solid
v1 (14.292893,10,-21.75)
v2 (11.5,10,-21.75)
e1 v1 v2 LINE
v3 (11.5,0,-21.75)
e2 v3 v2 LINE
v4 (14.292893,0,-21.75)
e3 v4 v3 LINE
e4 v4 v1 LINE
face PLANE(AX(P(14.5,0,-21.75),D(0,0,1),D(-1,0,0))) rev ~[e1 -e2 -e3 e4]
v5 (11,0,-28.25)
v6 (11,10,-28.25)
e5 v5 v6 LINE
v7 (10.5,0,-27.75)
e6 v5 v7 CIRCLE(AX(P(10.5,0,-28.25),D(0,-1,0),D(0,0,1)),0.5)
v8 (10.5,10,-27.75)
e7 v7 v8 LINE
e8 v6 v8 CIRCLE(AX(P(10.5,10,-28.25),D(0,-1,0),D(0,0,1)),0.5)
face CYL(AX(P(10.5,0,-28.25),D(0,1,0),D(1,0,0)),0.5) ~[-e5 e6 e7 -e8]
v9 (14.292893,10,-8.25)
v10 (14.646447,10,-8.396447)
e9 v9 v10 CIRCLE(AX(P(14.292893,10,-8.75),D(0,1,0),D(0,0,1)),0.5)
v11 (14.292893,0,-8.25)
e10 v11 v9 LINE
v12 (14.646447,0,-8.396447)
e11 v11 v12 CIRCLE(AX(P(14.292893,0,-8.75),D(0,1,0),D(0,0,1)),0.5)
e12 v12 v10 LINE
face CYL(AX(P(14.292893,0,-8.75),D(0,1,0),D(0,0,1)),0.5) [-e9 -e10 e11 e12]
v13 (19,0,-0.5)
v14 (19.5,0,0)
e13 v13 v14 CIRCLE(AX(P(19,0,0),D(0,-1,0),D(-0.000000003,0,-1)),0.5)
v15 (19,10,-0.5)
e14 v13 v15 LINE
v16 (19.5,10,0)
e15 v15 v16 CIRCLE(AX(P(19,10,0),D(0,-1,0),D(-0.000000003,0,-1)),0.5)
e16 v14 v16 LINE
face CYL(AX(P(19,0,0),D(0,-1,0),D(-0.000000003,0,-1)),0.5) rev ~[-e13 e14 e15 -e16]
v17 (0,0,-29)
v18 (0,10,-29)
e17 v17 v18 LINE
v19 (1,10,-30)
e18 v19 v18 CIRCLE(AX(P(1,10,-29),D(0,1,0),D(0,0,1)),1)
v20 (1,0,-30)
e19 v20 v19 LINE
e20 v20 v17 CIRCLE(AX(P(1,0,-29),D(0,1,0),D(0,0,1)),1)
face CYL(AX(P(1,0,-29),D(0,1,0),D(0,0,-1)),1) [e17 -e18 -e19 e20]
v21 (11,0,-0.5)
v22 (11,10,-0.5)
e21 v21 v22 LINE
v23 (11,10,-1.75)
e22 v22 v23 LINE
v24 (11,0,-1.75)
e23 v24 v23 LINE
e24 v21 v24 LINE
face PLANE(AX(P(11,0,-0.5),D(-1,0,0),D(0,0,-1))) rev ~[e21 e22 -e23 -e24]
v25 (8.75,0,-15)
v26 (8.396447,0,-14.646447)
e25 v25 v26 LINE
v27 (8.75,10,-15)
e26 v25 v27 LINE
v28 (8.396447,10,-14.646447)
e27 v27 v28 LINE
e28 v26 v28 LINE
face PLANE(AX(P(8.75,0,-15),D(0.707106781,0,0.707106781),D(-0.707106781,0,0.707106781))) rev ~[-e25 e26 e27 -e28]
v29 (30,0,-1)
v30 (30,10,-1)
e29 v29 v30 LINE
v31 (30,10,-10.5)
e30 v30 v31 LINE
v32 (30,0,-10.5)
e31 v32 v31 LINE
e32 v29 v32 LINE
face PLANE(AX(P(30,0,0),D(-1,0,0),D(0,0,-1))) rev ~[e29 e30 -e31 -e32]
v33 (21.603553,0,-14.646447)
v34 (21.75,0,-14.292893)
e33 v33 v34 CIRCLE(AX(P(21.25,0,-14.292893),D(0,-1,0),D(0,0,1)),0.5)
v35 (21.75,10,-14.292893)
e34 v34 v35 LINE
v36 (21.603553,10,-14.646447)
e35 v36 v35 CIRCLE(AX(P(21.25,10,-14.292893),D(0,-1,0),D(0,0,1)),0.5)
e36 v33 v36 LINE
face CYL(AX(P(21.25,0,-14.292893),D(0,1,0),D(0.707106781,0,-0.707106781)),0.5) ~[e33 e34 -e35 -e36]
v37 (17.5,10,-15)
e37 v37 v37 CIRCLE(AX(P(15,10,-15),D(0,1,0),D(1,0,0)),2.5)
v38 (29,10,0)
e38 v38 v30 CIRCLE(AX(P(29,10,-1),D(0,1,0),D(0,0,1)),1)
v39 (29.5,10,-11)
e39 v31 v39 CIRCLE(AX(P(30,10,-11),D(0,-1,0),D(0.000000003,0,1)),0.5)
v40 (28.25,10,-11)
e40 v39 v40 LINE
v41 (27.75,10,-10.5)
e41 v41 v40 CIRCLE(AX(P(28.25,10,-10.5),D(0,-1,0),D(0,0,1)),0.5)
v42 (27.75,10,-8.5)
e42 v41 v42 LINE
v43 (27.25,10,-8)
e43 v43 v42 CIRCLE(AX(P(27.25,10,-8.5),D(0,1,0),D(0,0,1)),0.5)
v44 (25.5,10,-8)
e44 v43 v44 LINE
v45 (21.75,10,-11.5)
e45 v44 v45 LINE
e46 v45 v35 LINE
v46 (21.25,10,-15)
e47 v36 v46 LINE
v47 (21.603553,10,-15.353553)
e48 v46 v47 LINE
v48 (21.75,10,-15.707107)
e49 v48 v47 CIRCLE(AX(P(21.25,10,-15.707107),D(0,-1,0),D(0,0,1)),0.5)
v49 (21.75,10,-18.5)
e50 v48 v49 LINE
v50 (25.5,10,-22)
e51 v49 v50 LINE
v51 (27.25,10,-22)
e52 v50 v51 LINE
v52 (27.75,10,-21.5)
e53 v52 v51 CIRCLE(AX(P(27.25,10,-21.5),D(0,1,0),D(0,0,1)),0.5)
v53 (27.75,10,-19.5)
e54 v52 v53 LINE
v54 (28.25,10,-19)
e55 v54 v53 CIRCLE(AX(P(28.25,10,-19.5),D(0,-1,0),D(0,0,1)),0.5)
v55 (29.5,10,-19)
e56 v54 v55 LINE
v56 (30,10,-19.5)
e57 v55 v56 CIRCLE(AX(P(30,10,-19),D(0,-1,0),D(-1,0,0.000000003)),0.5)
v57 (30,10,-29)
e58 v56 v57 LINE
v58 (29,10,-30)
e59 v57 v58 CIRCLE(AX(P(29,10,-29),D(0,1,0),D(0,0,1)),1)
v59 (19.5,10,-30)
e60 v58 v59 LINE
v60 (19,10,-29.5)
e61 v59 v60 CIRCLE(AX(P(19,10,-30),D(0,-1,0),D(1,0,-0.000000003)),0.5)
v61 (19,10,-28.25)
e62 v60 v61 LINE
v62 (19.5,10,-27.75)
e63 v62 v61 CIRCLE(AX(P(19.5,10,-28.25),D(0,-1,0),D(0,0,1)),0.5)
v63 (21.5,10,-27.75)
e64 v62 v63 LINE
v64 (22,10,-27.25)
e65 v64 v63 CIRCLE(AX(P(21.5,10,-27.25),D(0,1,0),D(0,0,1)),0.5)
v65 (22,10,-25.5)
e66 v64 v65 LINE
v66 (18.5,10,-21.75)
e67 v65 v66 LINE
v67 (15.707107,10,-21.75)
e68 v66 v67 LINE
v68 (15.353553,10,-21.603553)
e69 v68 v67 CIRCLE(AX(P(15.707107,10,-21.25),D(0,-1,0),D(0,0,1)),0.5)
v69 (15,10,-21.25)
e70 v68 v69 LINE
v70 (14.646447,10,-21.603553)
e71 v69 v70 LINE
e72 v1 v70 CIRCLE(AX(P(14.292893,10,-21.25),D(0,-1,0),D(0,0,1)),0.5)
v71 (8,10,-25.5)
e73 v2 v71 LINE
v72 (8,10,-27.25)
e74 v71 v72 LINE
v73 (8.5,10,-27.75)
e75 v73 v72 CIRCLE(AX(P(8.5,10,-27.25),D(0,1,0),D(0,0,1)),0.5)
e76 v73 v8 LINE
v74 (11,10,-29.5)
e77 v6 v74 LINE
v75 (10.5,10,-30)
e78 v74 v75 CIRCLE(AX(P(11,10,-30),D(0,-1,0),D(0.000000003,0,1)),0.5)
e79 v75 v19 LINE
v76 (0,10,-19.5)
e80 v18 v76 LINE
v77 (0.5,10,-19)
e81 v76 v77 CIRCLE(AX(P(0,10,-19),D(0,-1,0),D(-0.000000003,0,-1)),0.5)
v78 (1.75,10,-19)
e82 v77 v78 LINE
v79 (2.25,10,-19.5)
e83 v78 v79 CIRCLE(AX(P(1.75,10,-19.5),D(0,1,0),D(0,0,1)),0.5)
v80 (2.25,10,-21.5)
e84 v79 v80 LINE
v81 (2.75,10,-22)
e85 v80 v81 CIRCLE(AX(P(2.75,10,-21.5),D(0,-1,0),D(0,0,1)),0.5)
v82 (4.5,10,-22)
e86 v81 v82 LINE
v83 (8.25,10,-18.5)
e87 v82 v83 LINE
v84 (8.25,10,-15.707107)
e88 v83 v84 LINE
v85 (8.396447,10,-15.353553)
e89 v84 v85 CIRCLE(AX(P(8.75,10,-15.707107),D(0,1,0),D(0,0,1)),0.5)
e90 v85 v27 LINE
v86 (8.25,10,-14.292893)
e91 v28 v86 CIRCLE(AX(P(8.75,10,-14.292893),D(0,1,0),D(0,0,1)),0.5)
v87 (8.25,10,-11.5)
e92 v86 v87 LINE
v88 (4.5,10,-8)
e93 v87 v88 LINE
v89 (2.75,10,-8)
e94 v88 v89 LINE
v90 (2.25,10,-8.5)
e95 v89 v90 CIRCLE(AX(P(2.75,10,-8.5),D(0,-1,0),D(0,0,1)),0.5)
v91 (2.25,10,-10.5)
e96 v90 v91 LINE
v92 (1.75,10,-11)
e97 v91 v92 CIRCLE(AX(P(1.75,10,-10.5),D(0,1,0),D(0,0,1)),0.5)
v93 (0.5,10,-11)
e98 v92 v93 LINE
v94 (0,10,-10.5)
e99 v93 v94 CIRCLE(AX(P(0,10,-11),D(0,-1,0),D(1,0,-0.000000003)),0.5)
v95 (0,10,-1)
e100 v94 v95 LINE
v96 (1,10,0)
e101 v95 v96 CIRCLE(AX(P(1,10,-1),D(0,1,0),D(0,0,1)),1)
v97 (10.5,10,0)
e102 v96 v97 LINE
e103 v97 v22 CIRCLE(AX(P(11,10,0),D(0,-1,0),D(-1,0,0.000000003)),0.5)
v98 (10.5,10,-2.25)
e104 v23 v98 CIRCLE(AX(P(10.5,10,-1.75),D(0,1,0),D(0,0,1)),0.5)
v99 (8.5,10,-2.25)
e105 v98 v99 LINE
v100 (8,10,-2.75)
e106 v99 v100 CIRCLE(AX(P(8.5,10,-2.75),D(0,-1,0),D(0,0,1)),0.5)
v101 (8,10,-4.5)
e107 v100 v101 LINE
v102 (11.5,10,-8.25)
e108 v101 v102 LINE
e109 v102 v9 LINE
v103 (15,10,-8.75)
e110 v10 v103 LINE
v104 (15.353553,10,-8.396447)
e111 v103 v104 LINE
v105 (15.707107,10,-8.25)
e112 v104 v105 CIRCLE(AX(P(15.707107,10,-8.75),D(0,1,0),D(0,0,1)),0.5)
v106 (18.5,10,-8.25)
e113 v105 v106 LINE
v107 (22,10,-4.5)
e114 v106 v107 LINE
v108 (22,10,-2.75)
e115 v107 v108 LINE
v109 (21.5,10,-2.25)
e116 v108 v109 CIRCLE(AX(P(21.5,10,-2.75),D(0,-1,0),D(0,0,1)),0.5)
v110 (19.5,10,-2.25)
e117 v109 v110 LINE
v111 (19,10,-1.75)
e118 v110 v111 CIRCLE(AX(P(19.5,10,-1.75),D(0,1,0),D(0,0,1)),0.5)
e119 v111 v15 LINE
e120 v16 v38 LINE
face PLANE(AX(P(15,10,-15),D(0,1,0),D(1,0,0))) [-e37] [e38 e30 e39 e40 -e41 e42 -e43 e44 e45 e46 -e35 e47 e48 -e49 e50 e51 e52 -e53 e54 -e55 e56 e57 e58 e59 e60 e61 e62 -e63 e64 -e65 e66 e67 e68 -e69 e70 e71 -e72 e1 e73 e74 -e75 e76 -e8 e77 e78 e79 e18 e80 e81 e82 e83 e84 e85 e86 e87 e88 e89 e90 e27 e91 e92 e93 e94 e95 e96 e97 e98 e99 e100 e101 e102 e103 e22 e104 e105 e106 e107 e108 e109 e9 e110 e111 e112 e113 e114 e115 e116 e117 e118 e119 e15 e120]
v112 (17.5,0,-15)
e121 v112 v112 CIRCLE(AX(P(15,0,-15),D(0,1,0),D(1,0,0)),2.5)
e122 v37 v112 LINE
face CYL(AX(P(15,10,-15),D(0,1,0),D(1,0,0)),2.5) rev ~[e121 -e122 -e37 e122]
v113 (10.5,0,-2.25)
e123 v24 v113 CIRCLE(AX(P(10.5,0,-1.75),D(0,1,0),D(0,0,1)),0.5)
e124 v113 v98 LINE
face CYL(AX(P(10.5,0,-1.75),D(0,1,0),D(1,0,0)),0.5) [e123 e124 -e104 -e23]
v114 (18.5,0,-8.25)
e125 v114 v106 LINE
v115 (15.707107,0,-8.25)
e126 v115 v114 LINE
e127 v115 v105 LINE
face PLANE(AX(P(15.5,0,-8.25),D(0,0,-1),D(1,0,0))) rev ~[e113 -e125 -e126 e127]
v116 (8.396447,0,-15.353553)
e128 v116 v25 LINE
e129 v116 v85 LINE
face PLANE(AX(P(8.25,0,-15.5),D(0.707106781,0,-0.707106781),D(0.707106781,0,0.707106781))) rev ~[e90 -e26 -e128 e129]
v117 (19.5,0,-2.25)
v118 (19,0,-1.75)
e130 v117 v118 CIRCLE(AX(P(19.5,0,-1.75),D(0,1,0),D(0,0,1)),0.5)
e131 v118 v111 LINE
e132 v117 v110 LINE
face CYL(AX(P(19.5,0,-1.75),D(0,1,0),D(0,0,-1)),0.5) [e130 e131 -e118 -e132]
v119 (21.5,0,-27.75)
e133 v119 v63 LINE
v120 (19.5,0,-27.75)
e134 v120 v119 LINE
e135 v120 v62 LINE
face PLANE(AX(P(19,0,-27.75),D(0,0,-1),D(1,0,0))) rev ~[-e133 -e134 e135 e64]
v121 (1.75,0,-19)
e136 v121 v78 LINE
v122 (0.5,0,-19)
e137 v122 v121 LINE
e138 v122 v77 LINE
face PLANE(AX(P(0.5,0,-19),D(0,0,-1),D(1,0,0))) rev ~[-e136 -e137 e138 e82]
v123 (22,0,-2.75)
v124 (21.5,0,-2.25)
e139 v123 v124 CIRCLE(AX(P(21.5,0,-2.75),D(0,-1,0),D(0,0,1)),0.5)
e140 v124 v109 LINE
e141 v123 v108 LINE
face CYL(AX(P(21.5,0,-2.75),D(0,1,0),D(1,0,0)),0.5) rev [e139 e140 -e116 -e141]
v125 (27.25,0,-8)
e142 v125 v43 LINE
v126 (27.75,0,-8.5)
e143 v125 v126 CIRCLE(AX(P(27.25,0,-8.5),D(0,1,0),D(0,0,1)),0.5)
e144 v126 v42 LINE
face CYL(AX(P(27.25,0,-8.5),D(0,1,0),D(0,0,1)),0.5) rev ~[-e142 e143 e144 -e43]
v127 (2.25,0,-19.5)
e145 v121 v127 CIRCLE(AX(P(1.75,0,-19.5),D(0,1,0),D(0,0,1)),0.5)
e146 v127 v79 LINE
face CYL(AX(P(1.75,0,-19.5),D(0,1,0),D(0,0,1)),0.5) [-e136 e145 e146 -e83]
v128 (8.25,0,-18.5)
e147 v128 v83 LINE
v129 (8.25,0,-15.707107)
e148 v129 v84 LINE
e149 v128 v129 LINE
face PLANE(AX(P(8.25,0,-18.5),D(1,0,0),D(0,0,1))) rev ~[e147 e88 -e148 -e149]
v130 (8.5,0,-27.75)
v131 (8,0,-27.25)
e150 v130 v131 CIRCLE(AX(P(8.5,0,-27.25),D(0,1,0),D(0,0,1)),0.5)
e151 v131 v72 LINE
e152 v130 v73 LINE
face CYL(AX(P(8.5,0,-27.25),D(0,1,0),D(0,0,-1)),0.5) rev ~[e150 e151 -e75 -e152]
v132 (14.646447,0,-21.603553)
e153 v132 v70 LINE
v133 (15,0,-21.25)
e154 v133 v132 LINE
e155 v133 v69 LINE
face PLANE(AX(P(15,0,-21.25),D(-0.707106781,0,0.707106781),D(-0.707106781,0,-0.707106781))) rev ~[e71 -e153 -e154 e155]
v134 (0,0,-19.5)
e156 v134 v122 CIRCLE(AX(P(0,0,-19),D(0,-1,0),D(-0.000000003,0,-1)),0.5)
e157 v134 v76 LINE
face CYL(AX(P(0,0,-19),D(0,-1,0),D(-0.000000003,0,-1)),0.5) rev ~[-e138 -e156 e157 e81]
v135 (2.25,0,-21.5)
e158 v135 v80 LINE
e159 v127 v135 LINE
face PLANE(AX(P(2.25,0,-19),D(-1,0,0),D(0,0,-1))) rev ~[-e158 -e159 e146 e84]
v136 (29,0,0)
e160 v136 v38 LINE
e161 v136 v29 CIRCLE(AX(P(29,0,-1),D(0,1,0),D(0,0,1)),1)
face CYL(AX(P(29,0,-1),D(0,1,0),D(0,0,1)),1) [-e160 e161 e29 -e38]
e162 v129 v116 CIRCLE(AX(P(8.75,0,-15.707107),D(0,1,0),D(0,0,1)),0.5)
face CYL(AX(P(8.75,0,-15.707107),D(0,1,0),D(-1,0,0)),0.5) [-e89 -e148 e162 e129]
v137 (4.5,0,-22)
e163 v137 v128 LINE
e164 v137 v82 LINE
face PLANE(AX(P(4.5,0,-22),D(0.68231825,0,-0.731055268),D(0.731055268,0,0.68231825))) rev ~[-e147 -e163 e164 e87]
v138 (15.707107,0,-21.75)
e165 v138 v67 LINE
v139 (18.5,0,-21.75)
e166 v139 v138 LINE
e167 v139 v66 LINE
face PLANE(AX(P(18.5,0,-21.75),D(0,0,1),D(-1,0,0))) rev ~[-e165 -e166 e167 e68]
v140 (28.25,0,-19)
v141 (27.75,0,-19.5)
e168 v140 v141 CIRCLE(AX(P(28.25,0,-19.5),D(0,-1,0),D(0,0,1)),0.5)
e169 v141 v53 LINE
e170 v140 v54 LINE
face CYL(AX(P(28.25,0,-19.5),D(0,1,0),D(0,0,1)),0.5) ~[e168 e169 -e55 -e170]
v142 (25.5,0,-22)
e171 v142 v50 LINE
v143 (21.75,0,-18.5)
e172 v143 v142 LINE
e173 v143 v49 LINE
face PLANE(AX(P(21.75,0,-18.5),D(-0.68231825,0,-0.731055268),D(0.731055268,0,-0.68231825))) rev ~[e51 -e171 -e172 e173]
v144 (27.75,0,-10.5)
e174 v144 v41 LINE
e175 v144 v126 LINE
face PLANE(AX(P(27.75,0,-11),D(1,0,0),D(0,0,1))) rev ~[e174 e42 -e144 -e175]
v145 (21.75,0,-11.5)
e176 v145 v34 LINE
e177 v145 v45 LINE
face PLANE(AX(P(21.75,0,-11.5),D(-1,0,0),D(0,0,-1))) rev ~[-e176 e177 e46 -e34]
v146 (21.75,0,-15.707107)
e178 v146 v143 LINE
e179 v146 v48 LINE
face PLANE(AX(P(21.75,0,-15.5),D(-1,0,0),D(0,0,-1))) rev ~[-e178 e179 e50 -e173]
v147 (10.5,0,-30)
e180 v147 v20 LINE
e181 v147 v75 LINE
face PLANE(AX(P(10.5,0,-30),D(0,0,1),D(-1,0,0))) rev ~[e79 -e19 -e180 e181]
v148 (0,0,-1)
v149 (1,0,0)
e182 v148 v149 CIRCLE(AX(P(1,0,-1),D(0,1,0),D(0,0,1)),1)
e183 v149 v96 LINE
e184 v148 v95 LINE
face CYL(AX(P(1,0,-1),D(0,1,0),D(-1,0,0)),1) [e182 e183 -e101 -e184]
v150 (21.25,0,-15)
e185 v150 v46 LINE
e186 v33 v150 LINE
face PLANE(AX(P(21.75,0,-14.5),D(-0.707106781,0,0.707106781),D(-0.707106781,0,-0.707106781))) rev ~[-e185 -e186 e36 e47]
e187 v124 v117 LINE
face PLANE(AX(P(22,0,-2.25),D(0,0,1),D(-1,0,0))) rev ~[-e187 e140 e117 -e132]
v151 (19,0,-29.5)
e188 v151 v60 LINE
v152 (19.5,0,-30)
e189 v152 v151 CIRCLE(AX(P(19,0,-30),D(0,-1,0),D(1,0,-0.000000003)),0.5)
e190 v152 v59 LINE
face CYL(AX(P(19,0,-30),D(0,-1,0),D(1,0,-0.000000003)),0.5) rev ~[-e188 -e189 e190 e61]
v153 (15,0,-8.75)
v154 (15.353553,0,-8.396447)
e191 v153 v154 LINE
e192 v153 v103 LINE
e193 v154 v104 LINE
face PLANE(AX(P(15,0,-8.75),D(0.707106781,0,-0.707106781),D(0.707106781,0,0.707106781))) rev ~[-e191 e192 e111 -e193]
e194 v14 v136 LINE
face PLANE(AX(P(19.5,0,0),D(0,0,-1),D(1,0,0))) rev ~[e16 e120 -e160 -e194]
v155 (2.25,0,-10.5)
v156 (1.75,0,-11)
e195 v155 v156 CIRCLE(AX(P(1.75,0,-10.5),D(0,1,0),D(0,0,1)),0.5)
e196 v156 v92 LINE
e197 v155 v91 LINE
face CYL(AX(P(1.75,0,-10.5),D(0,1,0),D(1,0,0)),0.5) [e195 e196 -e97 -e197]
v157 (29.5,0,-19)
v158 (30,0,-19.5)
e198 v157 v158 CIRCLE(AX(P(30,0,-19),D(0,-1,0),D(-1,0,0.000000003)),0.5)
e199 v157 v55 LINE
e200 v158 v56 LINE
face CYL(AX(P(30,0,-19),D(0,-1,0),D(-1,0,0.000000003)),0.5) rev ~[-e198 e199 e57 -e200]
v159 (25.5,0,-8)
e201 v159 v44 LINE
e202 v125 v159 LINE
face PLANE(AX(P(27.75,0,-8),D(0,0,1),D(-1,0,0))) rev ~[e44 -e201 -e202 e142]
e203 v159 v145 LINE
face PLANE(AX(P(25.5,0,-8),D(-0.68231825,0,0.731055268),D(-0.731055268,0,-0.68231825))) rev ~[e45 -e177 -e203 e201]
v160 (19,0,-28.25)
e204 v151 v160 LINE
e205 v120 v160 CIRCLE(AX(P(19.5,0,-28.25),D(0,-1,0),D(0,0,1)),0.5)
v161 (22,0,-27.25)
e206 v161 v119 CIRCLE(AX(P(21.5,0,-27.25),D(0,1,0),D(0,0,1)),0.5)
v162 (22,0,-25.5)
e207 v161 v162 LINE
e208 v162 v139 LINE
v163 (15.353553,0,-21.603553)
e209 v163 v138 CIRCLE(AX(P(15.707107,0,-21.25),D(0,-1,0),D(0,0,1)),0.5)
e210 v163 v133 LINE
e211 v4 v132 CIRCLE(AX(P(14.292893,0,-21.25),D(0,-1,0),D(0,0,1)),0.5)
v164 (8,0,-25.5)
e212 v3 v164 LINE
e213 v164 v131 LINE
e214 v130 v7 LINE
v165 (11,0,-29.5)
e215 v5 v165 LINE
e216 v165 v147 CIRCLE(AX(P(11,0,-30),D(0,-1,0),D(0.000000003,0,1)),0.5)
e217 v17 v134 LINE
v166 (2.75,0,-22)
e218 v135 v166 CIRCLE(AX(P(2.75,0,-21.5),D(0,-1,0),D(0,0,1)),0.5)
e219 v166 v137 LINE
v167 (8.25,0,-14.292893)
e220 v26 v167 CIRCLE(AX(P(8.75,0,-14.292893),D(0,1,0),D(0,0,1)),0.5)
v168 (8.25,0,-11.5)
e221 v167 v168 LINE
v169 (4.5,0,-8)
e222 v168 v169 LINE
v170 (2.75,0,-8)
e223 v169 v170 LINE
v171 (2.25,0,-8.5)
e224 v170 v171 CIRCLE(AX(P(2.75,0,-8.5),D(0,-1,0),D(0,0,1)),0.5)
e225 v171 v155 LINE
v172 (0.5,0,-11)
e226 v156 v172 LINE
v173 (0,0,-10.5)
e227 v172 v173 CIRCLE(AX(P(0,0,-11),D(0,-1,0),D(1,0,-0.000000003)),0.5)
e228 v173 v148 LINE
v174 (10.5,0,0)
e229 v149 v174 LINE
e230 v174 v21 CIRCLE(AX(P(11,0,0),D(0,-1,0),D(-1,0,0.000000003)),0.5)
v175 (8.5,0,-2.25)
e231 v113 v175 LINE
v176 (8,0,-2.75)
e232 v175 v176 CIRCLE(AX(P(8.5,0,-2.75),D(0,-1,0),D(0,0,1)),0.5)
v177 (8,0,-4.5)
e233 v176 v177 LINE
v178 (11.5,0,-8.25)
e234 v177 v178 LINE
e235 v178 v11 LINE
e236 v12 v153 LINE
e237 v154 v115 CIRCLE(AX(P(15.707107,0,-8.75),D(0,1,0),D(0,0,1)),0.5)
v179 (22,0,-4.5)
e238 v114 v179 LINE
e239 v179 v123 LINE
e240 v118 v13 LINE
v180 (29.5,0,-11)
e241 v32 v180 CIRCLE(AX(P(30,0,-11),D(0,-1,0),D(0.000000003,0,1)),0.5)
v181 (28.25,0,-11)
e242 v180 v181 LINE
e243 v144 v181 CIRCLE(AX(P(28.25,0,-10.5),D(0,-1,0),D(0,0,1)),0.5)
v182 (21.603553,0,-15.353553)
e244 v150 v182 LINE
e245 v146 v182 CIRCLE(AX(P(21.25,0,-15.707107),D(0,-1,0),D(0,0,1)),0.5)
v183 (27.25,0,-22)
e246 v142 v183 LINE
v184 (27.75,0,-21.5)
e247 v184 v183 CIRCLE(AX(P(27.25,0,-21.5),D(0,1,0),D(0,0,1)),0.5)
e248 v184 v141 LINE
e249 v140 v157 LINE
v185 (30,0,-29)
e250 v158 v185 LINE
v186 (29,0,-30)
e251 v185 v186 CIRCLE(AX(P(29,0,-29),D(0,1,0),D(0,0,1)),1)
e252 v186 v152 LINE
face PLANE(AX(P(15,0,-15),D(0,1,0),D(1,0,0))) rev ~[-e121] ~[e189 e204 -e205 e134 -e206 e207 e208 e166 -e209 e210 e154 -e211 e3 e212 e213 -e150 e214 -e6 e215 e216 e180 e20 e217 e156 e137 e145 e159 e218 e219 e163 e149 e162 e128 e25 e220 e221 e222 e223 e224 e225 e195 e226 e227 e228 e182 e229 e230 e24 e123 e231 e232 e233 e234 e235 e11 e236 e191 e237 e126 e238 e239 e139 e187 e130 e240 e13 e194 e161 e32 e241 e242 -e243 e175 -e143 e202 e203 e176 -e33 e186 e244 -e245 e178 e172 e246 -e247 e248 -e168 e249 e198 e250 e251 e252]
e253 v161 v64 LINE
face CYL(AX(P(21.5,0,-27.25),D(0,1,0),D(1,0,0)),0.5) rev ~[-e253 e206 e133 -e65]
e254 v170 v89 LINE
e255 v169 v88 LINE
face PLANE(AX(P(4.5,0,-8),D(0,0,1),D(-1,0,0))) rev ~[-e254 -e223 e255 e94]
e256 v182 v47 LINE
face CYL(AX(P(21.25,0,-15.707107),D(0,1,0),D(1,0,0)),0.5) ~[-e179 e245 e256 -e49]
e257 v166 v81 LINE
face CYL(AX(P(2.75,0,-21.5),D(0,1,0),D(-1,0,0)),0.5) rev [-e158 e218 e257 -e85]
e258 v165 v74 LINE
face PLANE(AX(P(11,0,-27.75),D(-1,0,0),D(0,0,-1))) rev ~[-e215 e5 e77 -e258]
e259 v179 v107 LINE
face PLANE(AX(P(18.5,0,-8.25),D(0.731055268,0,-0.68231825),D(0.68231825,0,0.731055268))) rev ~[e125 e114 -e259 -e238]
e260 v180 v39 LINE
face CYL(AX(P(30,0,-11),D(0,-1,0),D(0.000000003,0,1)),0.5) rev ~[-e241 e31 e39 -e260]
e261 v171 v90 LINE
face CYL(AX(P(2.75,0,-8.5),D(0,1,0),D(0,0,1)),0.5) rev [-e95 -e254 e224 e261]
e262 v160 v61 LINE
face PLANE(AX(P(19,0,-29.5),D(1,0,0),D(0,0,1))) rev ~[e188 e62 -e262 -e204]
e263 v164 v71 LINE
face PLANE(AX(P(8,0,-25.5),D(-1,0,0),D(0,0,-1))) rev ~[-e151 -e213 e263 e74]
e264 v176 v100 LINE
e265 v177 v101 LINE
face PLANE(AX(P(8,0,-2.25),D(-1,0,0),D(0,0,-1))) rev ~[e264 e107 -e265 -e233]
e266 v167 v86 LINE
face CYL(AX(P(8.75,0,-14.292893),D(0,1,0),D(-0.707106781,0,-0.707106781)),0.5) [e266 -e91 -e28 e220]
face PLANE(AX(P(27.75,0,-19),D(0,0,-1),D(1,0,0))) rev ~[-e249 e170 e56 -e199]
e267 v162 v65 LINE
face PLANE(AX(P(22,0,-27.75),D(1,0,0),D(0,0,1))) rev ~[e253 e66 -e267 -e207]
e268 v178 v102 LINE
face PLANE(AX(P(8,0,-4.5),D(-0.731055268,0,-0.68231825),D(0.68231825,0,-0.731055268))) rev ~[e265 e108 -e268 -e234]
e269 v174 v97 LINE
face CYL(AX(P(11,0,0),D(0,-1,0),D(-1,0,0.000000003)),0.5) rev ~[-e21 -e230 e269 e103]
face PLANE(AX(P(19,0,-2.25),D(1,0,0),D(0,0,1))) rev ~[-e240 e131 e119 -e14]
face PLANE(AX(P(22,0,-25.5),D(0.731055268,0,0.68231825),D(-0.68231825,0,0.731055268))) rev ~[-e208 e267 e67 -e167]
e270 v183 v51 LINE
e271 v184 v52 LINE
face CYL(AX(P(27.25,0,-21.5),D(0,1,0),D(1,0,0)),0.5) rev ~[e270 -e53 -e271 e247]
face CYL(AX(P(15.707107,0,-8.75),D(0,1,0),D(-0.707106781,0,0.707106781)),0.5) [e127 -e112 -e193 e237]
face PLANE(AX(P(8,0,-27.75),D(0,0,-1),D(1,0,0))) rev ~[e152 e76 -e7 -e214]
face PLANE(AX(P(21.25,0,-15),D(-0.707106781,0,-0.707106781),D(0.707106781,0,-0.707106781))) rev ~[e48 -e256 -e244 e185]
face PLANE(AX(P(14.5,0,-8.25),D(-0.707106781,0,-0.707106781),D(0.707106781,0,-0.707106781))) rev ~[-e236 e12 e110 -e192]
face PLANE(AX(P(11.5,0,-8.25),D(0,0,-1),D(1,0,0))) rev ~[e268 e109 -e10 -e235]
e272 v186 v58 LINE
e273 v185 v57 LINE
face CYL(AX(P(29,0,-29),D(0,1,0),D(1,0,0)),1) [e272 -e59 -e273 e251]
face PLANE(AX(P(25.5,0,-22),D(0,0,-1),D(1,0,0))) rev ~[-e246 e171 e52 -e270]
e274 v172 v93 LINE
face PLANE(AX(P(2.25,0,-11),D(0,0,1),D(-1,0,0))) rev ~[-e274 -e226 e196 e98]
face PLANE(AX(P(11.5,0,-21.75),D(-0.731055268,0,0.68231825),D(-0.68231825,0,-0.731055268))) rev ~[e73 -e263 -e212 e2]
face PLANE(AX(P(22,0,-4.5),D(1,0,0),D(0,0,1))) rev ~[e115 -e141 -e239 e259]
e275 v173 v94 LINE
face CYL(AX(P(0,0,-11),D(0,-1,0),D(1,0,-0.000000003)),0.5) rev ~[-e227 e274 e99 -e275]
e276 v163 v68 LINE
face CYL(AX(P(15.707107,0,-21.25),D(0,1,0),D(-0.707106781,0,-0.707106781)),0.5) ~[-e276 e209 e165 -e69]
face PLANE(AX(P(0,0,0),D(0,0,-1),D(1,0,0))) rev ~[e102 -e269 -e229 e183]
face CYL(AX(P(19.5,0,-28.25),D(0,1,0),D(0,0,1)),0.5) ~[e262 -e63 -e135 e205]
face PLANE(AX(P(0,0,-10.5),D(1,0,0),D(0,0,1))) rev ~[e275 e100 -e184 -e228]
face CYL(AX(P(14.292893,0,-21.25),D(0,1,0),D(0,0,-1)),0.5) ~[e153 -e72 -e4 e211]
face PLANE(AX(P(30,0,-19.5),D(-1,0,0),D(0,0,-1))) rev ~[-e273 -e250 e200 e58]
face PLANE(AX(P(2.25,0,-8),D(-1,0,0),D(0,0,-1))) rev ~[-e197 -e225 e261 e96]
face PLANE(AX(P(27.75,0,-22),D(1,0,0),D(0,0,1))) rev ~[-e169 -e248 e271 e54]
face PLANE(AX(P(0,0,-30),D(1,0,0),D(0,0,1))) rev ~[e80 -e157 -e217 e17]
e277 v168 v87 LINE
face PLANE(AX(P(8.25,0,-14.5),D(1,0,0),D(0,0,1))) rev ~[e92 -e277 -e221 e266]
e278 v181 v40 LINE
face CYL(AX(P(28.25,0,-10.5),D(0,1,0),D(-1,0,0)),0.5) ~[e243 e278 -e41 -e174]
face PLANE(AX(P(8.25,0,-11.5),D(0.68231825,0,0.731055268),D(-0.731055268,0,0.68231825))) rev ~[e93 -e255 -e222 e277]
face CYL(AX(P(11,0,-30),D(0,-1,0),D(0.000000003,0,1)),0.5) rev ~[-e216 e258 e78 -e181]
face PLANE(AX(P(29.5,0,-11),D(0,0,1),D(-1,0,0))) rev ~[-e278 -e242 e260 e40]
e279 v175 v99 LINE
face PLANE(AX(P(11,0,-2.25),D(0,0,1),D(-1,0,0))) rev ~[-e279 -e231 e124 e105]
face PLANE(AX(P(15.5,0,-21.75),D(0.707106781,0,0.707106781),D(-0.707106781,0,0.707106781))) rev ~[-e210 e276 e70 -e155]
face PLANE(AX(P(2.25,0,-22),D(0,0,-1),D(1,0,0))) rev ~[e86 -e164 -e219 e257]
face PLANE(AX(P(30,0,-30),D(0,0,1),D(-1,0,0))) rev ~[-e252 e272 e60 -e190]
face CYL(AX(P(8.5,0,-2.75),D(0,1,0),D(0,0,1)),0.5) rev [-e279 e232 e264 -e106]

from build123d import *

# Parameters (mm, degrees)
BOSS_EXTRUDE1_DEPTH = 10
FILLET1_R           = 1
SKETCH4_R           = 2.5
CUT_EXTRUDE1_DEPTH  = 11
FILLET2_R           = 0.5


with BuildPart() as part:
    # Sketch3 → Boss-Extrude1 (new body)
    with BuildSketch(Plane(origin=(0, 0, 0), x_dir=(1, 0, 0), z_dir=(0, 1, 0))):
        with BuildLine():
            Line((11, 27.75), (11, 29.5))
            ThreePointArc((11, 29.5), (10.646446609, 29.646446609), (10.5, 30))
            Line((10.5, 30), (0, 30))
            Line((0, 30), (0, 19.5))
            ThreePointArc((0, 19.5), (0.353553391, 19.353553391), (0.5, 19))
            Line((0.5, 19), (2.25, 19))
            Line((2.25, 19), (2.25, 22))
            Line((2.25, 22), (4.5, 22))
            Line((4.5, 22), (8.25, 18.5))
            Line((8.25, 18.5), (8.25, 15.5))
            Line((8.25, 15.5), (8.75, 15))
            Line((8.75, 15), (8.25, 14.5))
            Line((8.25, 14.5), (8.25, 11.5))
            Line((8.25, 11.5), (4.5, 8))
            Line((4.5, 8), (2.25, 8))
            Line((2.25, 8), (2.25, 11))
            Line((2.25, 11), (0.5, 11))
            ThreePointArc((0.5, 11), (0.353553391, 10.646446609), (0, 10.5))
            Line((0, 10.5), (0, 0))
            Line((0, 0), (10.5, 0))
            ThreePointArc((10.5, 0), (10.646446609, 0.353553391), (11, 0.5))
            Line((11, 0.5), (11, 2.25))
            Line((11, 2.25), (8, 2.25))
            Line((8, 2.25), (8, 4.5))
            Line((8, 4.5), (11.5, 8.25))
            Line((11.5, 8.25), (14.5, 8.25))
            Line((14.5, 8.25), (15, 8.75))
            Line((15, 8.75), (15.5, 8.25))
            Line((15.5, 8.25), (18.5, 8.25))
            Line((18.5, 8.25), (22, 4.5))
            Line((22, 4.5), (22, 2.25))
            Line((22, 2.25), (19, 2.25))
            Line((19, 2.25), (19, 0.5))
            ThreePointArc((19, 0.5), (19.353553391, 0.353553391), (19.5, 0))
            Line((19.5, 0), (30, 0))
            Line((30, 0), (30, 10.5))
            ThreePointArc((30, 10.5), (29.646446609, 10.646446609), (29.5, 11))
            Line((29.5, 11), (27.75, 11))
            Line((27.75, 11), (27.75, 8))
            Line((27.75, 8), (25.5, 8))
            Line((25.5, 8), (21.75, 11.5))
            Line((21.75, 11.5), (21.75, 14.5))
            Line((21.75, 14.5), (21.25, 15))
            Line((21.25, 15), (21.75, 15.5))
            Line((21.75, 15.5), (21.75, 18.5))
            Line((21.75, 18.5), (25.5, 22))
            Line((25.5, 22), (27.75, 22))
            Line((27.75, 22), (27.75, 19))
            Line((27.75, 19), (29.5, 19))
            ThreePointArc((29.5, 19), (29.646446609, 19.353553391), (30, 19.5))
            Line((30, 19.5), (30, 30))
            Line((30, 30), (19.5, 30))
            ThreePointArc((19.5, 30), (19.353553391, 29.646446609), (19, 29.5))
            Line((19, 29.5), (19, 27.75))
            Line((19, 27.75), (22, 27.75))
            Line((22, 27.75), (22, 25.5))
            Line((22, 25.5), (18.5, 21.75))
            Line((18.5, 21.75), (15.5, 21.75))
            Line((15.5, 21.75), (15, 21.25))
            Line((15, 21.25), (14.5, 21.75))
            Line((14.5, 21.75), (11.5, 21.75))
            Line((11.5, 21.75), (8, 25.5))
            Line((8, 25.5), (8, 27.75))
            Line((8, 27.75), (11, 27.75))
        make_face()
    extrude(amount=BOSS_EXTRUDE1_DEPTH)

    # Fillet1
    fillet1_edges = [part.edges().sort_by_distance(p)[0] for p in [
        (30, 5, 0),
        (0, 5, 0),
        (0, 5, -30),
        (30, 5, -30),
    ]]
    fillet(fillet1_edges, radius=FILLET1_R)

    # Sketch4 → Cut-Extrude1 (cut, through all)
    with BuildSketch(Plane(origin=(0, 10, 0), x_dir=(1, 0, 0), z_dir=(0, 1, 0))):
        with Locations((15, 15)):
            Circle(SKETCH4_R)
    extrude(amount=-CUT_EXTRUDE1_DEPTH, mode=Mode.SUBTRACT)

    # Fillet2
    fillet2_edges = [part.edges().sort_by_distance(p)[0] for p in [
        (27.75, 5, -19),
        (27.75, 5, -22),
        (21.75, 5, -15.5),
        (21.75, 5, -14.5),
        (27.75, 5, -8),
        (27.75, 5, -11),
        (19, 5, -2.25),
        (22, 5, -2.25),
        (15.5, 5, -8.25),
        (14.5, 5, -8.25),
        (8, 5, -2.25),
        (11, 5, -2.25),
        (2.25, 5, -11),
        (2.25, 5, -8),
        (8.25, 5, -14.5),
        (8.25, 5, -15.5),
        (2.25, 5, -22),
        (2.25, 5, -19),
        (11, 5, -27.75),
        (8, 5, -27.75),
        (14.5, 5, -21.75),
        (15.5, 5, -21.75),
        (22, 5, -27.75),
        (19, 5, -27.75),
    ]]
    fillet(fillet2_edges, radius=FILLET2_R)


solid = part.part
